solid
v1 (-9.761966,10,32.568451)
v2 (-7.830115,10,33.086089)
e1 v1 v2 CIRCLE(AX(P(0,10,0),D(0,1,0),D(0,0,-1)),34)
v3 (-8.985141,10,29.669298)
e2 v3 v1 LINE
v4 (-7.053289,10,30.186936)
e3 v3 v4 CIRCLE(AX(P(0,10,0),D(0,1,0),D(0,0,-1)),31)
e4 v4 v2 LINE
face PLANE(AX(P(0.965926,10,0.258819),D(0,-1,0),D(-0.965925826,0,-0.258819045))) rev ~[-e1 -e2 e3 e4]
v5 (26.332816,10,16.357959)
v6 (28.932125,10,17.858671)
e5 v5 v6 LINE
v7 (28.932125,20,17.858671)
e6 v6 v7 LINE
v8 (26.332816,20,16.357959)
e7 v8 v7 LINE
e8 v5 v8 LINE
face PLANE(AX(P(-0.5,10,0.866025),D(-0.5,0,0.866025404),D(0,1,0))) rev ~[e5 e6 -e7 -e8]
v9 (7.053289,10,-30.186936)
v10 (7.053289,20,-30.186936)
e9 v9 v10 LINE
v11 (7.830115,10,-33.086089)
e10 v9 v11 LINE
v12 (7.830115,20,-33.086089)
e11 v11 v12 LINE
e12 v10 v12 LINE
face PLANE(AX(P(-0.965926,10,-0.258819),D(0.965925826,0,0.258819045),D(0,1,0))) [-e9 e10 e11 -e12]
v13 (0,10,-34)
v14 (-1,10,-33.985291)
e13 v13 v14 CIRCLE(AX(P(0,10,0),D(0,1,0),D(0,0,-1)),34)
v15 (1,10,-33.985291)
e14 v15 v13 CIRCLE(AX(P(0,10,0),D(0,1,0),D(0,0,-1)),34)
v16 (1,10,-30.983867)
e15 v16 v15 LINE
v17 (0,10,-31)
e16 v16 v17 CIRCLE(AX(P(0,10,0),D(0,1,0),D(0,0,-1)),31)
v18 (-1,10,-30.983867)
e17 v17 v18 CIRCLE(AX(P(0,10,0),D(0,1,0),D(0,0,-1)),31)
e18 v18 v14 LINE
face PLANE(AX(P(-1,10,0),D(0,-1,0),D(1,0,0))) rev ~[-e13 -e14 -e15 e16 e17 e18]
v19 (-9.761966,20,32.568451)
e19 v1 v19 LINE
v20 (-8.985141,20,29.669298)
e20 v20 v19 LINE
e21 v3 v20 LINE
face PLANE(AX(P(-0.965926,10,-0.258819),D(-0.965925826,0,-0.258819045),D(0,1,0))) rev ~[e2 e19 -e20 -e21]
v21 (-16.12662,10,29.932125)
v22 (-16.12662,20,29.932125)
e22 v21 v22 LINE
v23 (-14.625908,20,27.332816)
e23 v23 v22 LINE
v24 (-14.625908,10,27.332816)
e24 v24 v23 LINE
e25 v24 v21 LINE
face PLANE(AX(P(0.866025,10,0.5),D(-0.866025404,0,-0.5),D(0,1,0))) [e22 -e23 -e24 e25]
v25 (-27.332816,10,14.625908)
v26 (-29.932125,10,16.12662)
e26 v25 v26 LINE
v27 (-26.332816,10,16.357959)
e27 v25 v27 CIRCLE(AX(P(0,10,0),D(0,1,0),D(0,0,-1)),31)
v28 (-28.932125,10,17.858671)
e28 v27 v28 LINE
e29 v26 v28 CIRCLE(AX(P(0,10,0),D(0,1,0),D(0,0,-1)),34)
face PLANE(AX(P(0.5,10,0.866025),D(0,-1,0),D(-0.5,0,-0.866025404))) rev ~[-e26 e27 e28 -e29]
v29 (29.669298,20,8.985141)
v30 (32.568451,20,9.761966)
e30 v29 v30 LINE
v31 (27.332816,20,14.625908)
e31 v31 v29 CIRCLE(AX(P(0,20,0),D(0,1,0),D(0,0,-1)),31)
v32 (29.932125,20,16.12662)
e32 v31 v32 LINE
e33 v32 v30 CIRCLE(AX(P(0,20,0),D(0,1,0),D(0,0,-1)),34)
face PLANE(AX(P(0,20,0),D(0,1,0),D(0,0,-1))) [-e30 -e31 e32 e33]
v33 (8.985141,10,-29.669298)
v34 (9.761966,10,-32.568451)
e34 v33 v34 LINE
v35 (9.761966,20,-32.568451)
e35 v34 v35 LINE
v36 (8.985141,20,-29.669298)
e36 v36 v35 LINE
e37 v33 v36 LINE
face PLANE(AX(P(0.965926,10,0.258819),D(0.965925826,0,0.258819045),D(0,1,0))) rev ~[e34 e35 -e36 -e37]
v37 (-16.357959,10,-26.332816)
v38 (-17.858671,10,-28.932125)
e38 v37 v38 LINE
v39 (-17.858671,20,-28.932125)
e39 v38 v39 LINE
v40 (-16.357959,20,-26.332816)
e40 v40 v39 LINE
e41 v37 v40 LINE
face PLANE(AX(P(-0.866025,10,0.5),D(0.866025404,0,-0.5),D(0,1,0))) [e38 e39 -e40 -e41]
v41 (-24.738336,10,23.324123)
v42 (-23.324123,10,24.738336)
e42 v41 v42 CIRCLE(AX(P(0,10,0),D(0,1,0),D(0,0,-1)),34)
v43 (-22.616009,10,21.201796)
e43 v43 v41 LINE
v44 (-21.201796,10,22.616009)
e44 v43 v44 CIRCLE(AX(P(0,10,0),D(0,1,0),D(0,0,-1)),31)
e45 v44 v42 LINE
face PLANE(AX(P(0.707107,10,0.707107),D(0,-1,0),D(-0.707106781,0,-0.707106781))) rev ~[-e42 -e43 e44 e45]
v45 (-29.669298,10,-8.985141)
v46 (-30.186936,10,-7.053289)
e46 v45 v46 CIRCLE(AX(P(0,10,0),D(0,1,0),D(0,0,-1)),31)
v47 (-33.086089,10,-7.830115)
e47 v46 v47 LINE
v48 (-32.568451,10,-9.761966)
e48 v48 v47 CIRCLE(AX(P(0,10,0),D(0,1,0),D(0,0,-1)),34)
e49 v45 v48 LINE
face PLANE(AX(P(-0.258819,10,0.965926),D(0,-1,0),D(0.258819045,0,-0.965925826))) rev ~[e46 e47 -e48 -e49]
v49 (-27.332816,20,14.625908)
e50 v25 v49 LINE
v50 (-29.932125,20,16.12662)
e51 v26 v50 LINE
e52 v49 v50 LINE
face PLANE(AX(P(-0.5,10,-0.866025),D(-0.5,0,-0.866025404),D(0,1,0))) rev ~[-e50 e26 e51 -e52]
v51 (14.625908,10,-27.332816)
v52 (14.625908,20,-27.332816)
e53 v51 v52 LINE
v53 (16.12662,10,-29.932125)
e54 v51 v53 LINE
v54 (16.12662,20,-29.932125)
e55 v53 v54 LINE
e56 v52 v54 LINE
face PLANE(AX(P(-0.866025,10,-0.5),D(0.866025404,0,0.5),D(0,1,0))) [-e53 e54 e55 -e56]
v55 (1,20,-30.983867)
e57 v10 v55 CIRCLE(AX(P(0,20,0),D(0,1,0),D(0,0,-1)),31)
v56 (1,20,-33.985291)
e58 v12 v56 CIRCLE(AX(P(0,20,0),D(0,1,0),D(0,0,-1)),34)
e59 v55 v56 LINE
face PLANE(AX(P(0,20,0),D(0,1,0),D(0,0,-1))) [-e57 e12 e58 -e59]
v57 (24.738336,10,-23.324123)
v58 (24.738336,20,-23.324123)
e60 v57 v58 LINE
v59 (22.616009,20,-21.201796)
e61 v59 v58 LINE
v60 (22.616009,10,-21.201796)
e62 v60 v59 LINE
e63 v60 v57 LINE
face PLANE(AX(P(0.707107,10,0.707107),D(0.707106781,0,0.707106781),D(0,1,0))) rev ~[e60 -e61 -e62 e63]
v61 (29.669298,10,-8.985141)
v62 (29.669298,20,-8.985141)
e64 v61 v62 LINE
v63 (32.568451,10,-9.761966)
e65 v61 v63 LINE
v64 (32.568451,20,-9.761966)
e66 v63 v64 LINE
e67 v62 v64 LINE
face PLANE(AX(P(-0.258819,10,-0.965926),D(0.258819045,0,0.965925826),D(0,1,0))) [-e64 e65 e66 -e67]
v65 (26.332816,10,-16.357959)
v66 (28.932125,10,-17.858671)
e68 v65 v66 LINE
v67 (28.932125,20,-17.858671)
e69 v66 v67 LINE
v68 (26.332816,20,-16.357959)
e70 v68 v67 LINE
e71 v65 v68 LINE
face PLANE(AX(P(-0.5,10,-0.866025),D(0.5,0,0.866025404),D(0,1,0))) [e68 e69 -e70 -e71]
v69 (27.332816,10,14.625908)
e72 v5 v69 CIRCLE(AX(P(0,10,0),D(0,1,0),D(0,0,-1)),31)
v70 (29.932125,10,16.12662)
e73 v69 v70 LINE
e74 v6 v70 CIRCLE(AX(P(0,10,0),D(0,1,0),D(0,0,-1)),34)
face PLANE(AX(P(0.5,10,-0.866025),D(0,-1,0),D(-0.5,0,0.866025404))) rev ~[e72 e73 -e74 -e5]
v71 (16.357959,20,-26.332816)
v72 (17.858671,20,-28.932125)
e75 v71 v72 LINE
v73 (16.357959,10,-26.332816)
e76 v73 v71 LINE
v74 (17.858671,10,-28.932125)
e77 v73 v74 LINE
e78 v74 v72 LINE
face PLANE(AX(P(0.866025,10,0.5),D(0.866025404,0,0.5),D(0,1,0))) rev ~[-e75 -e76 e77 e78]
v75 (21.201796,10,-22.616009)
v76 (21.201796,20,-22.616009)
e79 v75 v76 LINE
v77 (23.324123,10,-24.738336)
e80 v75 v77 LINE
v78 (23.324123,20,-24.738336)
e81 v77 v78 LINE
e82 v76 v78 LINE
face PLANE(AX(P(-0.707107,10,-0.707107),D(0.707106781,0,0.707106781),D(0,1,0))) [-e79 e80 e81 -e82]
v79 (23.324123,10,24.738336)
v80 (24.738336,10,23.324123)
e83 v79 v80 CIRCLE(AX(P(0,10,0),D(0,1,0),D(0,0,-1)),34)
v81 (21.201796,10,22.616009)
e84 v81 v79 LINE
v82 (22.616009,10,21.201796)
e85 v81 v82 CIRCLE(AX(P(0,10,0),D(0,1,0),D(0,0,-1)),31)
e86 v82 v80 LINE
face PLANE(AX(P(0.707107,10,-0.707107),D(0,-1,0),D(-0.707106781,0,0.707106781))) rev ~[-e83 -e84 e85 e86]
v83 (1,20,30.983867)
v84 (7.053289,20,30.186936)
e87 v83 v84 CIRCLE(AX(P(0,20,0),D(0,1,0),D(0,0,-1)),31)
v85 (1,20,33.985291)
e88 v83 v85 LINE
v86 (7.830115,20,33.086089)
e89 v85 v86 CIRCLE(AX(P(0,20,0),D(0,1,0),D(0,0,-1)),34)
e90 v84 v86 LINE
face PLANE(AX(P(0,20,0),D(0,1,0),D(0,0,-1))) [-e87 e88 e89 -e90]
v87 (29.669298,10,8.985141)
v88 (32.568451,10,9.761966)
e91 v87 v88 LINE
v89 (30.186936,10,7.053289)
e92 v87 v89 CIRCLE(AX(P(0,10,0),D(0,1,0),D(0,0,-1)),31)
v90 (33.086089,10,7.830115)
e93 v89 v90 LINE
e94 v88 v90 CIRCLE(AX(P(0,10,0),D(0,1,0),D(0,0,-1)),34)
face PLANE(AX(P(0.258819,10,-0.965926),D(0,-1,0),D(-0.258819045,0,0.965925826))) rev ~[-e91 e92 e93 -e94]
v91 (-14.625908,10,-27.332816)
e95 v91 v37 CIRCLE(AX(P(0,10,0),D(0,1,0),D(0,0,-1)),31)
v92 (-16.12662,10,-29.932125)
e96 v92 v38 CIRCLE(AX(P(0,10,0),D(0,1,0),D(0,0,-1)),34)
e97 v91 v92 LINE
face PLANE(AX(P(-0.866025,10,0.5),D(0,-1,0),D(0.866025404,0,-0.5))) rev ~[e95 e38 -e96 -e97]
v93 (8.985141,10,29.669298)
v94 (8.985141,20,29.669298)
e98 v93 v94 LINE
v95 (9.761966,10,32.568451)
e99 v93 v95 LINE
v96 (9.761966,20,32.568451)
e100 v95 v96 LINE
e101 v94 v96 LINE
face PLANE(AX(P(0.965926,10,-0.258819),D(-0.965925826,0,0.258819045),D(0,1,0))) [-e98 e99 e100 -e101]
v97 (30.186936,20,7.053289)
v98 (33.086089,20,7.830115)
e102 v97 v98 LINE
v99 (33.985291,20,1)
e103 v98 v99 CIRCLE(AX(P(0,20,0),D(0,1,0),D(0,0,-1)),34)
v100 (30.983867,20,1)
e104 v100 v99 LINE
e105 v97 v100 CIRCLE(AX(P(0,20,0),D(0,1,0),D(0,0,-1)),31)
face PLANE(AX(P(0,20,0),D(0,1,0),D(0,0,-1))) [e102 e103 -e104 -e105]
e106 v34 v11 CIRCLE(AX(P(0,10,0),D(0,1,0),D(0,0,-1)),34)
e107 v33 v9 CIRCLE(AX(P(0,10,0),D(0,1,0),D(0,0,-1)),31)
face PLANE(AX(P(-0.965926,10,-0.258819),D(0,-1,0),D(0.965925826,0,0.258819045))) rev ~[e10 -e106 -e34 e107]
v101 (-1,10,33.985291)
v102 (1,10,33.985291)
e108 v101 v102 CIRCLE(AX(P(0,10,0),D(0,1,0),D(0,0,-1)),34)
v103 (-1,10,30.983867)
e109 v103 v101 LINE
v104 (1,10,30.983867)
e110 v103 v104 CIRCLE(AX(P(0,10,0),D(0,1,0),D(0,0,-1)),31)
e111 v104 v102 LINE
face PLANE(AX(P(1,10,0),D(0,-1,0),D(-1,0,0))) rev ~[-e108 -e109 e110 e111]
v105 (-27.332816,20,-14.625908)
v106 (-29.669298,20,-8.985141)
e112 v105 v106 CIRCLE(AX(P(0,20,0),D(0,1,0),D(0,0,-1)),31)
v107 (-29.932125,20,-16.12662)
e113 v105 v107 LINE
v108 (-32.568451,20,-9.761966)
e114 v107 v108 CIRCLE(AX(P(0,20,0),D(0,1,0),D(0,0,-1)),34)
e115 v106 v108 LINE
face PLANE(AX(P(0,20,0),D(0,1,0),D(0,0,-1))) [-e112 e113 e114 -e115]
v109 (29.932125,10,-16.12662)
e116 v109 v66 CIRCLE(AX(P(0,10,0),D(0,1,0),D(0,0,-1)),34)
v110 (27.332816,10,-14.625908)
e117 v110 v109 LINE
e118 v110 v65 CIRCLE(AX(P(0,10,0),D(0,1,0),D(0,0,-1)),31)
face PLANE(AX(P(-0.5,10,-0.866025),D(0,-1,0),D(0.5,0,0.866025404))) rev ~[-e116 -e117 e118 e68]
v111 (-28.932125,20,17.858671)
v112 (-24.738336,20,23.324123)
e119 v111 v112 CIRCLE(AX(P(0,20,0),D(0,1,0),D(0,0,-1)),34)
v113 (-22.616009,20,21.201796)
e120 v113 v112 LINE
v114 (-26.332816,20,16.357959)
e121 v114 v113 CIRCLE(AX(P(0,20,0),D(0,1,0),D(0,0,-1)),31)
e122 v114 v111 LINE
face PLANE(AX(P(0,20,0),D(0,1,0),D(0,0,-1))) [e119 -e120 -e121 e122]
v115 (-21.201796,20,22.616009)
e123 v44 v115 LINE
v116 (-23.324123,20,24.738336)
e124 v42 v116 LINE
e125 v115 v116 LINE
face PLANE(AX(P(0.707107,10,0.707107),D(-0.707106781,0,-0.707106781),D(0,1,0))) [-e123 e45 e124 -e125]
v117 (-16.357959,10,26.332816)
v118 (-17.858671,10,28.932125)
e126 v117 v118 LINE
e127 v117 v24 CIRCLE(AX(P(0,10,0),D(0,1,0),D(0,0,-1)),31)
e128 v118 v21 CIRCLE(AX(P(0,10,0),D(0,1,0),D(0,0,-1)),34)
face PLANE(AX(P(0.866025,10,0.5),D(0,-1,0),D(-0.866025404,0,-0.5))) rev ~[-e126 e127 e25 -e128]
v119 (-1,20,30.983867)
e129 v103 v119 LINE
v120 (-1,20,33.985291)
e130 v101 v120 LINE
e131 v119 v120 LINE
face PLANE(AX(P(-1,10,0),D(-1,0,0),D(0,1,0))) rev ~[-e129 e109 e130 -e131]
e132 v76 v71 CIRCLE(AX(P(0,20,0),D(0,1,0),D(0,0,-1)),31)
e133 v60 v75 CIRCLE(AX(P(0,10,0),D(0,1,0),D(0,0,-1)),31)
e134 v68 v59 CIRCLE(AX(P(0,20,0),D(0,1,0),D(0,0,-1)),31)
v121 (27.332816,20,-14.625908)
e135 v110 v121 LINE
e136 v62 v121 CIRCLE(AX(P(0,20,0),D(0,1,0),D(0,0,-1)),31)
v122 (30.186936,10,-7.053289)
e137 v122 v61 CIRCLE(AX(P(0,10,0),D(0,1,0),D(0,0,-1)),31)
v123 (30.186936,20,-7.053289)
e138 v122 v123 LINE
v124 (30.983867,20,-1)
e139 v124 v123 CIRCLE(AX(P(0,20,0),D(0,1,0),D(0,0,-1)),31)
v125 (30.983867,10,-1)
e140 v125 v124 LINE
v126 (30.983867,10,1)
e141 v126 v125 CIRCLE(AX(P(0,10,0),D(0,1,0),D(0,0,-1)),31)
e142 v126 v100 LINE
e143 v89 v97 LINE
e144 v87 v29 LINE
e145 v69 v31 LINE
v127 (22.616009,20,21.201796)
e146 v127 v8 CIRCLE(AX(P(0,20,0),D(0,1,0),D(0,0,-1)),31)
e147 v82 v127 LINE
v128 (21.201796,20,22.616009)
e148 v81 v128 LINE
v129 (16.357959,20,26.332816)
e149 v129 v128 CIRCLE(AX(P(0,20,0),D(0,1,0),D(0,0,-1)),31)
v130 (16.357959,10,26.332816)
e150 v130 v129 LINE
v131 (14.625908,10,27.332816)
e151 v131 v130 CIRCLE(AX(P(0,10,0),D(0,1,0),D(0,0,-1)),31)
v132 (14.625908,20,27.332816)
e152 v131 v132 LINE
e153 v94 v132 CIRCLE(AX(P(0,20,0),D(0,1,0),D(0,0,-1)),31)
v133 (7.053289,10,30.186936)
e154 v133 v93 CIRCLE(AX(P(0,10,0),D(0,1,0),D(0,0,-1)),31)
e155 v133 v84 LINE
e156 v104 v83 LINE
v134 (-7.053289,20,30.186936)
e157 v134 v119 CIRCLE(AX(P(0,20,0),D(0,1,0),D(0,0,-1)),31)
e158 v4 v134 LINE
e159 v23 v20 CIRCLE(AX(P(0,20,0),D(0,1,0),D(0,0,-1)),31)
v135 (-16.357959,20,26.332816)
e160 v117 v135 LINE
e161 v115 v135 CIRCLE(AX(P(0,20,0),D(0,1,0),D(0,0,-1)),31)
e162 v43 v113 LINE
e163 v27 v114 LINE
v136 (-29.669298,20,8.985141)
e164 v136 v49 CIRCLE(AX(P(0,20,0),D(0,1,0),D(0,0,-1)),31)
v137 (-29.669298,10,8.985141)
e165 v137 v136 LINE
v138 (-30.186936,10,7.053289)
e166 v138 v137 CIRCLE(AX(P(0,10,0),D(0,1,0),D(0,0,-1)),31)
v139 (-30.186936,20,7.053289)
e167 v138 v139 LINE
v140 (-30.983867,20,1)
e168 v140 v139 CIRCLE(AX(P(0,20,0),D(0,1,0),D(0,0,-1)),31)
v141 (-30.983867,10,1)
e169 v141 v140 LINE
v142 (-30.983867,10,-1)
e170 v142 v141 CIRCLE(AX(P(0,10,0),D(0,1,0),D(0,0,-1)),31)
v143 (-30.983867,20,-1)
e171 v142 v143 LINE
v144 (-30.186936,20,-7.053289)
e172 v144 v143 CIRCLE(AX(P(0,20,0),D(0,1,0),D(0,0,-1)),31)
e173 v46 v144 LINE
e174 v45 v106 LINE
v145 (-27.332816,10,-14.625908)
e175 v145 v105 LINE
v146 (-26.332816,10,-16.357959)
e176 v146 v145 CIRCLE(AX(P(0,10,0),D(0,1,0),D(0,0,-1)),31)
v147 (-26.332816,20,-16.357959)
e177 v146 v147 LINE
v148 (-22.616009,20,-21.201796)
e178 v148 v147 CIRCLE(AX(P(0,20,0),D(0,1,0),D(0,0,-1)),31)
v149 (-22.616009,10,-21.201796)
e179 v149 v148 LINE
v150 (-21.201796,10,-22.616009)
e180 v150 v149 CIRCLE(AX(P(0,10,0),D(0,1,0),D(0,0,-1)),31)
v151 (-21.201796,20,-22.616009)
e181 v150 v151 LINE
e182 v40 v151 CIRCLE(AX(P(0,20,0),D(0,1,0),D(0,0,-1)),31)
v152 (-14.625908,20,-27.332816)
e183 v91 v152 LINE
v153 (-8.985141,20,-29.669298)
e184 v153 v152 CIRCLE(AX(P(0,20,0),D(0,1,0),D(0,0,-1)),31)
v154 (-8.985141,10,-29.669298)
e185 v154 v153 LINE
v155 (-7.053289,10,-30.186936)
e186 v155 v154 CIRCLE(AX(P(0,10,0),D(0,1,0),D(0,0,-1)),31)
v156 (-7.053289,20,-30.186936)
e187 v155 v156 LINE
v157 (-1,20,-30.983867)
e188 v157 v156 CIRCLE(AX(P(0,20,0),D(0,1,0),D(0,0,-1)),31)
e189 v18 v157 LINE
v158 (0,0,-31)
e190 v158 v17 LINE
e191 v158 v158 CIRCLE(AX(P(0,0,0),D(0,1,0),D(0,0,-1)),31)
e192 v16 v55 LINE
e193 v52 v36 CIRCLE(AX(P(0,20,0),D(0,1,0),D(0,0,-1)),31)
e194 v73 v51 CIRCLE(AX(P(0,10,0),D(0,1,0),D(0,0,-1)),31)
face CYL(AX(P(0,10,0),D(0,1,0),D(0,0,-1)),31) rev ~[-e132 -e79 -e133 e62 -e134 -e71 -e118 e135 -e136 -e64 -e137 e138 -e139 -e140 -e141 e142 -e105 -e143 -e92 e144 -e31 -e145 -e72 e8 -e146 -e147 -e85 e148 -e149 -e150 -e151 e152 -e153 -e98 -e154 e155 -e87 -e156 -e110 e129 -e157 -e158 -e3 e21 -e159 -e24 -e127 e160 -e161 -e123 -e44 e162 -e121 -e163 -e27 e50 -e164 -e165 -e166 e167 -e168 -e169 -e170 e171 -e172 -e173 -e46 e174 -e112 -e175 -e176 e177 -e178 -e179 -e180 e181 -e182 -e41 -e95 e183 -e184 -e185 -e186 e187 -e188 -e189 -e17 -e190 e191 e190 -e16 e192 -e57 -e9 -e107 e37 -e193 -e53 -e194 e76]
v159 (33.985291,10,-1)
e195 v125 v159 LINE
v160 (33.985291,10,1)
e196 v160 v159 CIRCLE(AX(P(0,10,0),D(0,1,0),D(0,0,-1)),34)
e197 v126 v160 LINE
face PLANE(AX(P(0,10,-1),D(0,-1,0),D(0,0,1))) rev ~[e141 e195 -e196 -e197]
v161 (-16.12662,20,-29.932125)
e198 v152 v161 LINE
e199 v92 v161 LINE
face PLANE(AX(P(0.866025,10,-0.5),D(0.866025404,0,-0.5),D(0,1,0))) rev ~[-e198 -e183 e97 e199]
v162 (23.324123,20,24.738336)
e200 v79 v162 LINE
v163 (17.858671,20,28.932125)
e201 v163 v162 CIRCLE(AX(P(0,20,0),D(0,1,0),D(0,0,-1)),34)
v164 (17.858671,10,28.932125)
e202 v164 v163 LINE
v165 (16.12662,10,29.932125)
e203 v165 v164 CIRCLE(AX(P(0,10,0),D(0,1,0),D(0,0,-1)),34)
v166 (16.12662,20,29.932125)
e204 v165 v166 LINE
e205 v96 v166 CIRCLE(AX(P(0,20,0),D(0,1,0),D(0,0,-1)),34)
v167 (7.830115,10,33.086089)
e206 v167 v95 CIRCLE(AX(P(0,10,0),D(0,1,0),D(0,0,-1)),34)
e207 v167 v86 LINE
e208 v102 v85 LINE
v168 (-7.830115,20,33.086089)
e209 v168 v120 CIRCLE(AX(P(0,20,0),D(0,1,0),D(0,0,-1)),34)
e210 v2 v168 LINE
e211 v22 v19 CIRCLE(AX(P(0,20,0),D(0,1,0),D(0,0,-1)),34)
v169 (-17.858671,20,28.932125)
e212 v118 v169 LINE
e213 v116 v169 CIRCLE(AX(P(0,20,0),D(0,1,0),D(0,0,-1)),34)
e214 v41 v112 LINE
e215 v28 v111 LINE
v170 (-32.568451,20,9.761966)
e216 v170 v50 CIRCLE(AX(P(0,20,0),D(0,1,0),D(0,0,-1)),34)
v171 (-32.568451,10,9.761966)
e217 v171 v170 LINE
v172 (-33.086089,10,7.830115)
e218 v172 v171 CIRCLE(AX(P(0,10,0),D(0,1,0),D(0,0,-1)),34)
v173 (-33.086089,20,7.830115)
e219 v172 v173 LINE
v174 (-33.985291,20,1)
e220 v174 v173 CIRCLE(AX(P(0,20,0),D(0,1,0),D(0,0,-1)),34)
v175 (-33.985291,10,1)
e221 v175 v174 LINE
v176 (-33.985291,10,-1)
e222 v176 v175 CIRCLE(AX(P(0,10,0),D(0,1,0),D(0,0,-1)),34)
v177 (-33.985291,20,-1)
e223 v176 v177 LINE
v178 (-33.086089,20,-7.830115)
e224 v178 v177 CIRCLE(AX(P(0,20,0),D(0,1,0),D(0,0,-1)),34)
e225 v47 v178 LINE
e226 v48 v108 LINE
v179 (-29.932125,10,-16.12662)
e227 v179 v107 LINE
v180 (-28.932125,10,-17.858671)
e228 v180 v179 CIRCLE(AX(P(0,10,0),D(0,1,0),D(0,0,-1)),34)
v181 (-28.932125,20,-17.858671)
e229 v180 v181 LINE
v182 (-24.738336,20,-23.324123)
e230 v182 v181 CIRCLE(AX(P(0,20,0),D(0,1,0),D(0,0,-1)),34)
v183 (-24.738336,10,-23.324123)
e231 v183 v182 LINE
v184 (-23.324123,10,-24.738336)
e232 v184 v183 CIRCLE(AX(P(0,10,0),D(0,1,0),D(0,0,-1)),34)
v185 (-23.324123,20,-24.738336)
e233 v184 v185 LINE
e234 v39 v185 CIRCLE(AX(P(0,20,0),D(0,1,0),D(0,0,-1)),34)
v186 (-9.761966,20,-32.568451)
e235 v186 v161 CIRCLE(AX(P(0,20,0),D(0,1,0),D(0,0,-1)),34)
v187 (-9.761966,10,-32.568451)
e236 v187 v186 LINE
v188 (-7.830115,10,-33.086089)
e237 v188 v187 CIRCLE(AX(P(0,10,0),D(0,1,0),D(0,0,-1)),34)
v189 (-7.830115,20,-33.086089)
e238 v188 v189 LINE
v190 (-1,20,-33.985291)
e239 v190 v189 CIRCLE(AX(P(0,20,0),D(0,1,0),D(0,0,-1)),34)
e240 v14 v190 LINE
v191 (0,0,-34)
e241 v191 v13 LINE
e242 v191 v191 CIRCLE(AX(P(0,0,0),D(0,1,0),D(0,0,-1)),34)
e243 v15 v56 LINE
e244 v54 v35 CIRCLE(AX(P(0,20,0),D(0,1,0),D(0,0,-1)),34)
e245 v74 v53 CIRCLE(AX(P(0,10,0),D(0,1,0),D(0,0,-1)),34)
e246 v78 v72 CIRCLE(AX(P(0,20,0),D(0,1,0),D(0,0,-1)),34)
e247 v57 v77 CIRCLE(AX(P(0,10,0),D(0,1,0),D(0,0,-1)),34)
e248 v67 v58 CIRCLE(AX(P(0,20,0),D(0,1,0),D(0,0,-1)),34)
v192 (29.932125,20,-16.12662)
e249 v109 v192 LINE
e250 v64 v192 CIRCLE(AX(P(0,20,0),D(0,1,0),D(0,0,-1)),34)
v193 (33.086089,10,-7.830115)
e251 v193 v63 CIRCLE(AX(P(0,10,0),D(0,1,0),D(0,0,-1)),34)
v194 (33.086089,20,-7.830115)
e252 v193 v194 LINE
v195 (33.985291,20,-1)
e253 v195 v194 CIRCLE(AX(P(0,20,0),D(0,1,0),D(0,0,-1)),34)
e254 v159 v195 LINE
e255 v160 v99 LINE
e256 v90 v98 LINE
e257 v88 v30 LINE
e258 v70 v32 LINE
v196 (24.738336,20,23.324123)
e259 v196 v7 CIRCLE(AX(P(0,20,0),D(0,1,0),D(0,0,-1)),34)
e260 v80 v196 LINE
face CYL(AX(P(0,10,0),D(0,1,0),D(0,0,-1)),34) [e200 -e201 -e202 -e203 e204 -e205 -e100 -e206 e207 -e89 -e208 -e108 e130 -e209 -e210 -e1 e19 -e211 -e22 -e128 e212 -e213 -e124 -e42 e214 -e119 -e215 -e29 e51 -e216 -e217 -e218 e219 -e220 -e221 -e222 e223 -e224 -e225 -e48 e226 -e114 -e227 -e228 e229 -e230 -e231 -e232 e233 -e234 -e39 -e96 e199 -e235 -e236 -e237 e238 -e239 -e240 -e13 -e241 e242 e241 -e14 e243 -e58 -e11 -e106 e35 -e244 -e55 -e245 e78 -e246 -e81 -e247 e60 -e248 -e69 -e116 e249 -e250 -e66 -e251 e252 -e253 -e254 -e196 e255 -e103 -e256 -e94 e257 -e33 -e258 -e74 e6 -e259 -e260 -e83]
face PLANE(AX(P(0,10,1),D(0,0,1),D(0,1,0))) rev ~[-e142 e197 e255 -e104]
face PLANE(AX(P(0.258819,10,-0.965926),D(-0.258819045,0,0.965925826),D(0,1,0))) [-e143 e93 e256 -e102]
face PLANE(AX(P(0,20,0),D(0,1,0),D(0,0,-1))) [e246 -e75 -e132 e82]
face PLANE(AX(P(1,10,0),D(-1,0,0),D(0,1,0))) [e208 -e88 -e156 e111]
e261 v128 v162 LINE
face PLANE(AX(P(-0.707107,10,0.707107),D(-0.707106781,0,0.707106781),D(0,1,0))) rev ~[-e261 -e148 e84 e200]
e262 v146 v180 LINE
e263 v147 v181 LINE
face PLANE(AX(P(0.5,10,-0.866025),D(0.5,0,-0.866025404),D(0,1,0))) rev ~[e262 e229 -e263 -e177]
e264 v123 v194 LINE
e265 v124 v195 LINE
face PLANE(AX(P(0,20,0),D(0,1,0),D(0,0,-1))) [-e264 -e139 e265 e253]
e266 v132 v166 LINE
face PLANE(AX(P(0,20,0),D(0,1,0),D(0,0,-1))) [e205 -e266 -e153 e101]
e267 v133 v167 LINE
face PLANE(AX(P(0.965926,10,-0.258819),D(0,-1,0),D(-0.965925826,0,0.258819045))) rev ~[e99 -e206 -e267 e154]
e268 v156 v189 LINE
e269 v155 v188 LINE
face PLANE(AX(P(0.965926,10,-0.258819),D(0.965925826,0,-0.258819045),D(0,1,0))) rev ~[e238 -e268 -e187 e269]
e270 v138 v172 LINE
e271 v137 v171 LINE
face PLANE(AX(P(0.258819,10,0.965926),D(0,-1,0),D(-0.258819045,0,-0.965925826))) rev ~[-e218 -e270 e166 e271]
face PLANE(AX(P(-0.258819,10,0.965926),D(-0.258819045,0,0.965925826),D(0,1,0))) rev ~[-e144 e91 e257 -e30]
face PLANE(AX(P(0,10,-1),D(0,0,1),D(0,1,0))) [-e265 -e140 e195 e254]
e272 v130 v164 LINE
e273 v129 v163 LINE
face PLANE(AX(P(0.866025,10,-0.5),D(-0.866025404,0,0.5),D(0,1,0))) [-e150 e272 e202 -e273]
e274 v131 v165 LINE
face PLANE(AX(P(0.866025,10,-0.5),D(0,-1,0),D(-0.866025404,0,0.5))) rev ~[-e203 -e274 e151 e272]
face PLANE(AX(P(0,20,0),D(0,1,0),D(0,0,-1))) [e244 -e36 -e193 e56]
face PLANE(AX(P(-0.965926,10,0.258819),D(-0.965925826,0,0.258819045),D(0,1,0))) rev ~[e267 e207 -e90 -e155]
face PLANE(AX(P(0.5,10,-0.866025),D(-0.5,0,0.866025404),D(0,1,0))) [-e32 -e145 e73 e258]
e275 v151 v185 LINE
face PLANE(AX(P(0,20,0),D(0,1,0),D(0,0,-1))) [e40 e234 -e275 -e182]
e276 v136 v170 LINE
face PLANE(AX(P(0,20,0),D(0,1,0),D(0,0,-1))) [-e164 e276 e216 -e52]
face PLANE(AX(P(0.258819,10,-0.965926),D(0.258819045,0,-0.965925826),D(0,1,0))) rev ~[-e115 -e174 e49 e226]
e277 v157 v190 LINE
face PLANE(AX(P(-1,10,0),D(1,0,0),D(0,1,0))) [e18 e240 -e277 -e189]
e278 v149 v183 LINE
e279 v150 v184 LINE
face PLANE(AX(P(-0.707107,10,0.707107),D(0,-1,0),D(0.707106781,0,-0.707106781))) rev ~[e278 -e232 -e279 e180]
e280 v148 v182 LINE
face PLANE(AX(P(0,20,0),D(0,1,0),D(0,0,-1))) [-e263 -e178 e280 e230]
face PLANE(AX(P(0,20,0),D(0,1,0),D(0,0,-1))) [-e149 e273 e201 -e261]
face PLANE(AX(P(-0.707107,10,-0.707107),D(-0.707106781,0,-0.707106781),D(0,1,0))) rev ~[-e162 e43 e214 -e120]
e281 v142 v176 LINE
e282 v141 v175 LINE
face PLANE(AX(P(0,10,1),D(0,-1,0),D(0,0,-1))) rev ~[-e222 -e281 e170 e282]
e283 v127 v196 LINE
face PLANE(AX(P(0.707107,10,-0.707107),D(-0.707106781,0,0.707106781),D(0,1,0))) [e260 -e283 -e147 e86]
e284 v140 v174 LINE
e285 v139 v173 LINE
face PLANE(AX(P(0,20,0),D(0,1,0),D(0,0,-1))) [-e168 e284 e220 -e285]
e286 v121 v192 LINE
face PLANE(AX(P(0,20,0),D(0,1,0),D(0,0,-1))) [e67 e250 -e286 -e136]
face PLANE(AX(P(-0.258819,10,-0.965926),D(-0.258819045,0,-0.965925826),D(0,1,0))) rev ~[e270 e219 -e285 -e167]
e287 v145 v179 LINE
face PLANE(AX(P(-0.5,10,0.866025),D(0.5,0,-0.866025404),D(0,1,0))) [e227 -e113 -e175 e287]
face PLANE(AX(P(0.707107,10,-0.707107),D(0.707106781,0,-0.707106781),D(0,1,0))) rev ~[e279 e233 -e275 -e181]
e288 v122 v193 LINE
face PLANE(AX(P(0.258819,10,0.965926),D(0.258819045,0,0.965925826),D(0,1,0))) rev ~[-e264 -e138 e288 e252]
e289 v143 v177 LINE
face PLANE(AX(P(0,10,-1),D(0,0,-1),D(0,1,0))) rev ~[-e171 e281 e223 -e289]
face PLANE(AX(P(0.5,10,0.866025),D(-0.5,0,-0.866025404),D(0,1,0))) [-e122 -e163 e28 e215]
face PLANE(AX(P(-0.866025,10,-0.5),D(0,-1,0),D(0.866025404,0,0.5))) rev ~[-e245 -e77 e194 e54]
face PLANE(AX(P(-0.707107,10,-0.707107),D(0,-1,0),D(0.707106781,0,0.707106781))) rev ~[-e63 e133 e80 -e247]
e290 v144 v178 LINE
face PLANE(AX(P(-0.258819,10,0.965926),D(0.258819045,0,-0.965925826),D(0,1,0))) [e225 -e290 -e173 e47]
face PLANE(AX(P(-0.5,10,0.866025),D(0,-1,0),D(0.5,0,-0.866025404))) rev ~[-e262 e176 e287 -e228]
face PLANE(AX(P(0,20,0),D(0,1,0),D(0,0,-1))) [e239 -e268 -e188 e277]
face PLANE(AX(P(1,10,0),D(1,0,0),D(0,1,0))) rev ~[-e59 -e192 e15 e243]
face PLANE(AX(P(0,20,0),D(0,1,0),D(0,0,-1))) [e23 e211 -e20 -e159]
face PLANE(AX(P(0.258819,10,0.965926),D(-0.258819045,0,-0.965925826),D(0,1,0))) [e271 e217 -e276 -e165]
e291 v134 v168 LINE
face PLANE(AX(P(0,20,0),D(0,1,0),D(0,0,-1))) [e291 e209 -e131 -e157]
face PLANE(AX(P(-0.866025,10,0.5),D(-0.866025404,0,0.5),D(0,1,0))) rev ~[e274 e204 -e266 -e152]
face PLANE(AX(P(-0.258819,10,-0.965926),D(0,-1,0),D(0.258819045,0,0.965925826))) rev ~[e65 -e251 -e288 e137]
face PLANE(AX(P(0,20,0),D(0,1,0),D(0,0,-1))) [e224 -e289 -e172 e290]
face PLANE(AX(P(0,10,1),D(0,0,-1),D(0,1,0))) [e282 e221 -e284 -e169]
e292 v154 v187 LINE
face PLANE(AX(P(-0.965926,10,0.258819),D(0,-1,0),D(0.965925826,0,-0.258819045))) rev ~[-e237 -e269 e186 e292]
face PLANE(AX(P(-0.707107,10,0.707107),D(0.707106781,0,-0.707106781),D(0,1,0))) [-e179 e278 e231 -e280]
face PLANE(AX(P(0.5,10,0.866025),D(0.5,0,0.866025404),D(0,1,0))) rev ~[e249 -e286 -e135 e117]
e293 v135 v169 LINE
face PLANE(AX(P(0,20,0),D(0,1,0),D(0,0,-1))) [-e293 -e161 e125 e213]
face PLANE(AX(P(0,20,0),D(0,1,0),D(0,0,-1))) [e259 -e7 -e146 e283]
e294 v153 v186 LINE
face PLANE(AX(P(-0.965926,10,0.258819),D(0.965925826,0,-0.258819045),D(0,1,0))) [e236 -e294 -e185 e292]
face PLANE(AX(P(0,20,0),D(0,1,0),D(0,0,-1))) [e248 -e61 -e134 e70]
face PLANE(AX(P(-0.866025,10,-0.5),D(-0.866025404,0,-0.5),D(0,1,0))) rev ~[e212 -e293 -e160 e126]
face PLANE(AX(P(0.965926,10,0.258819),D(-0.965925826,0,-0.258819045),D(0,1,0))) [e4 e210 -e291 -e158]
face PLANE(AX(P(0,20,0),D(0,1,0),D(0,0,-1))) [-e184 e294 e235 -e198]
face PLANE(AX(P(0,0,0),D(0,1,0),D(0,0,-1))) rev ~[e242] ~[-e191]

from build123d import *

# Parameters (mm, degrees)
SKETCH1_W          = 3
SKETCH1_H          = 20
SKETCH2_W          = 2
SKETCH2_H          = 38.722689076
CUT_EXTRUDE1_DEPTH = 40
CIRPATTERN1_COUNT  = 24


with BuildPart() as part:
    # Sketch1 → Revolve1 (revolve)
    with BuildSketch(Plane.XY, mode=Mode.PRIVATE) as revolve1_sk:
        with Locations((-32.5, 10)):
            Rectangle(SKETCH1_W, SKETCH1_H)
    revolve(revolve1_sk.sketch.rotate(Axis((0, -1.909188309, 0), (0, 1, 0)), 270), axis=Axis((0, -1.909188309, 0), (0, 1, 0)))

    # Sketch2 → Cut-Extrude1 (cut)
    with BuildSketch(Plane.XY):
        with Locations((0, 29.361344538)):
            Rectangle(SKETCH2_W, SKETCH2_H)
    cut_extrude1 = extrude(amount=-CUT_EXTRUDE1_DEPTH, mode=Mode.SUBTRACT)

    # CirPattern1: Cut-Extrude1 ×24 about axis
    cirpattern1_axis = Axis((0, 0, 0), (0, 1, 0))
    for i in range(1, CIRPATTERN1_COUNT):
        add(cut_extrude1.rotate(cirpattern1_axis, i * 360 / CIRPATTERN1_COUNT), mode=Mode.SUBTRACT)


solid = part.part
